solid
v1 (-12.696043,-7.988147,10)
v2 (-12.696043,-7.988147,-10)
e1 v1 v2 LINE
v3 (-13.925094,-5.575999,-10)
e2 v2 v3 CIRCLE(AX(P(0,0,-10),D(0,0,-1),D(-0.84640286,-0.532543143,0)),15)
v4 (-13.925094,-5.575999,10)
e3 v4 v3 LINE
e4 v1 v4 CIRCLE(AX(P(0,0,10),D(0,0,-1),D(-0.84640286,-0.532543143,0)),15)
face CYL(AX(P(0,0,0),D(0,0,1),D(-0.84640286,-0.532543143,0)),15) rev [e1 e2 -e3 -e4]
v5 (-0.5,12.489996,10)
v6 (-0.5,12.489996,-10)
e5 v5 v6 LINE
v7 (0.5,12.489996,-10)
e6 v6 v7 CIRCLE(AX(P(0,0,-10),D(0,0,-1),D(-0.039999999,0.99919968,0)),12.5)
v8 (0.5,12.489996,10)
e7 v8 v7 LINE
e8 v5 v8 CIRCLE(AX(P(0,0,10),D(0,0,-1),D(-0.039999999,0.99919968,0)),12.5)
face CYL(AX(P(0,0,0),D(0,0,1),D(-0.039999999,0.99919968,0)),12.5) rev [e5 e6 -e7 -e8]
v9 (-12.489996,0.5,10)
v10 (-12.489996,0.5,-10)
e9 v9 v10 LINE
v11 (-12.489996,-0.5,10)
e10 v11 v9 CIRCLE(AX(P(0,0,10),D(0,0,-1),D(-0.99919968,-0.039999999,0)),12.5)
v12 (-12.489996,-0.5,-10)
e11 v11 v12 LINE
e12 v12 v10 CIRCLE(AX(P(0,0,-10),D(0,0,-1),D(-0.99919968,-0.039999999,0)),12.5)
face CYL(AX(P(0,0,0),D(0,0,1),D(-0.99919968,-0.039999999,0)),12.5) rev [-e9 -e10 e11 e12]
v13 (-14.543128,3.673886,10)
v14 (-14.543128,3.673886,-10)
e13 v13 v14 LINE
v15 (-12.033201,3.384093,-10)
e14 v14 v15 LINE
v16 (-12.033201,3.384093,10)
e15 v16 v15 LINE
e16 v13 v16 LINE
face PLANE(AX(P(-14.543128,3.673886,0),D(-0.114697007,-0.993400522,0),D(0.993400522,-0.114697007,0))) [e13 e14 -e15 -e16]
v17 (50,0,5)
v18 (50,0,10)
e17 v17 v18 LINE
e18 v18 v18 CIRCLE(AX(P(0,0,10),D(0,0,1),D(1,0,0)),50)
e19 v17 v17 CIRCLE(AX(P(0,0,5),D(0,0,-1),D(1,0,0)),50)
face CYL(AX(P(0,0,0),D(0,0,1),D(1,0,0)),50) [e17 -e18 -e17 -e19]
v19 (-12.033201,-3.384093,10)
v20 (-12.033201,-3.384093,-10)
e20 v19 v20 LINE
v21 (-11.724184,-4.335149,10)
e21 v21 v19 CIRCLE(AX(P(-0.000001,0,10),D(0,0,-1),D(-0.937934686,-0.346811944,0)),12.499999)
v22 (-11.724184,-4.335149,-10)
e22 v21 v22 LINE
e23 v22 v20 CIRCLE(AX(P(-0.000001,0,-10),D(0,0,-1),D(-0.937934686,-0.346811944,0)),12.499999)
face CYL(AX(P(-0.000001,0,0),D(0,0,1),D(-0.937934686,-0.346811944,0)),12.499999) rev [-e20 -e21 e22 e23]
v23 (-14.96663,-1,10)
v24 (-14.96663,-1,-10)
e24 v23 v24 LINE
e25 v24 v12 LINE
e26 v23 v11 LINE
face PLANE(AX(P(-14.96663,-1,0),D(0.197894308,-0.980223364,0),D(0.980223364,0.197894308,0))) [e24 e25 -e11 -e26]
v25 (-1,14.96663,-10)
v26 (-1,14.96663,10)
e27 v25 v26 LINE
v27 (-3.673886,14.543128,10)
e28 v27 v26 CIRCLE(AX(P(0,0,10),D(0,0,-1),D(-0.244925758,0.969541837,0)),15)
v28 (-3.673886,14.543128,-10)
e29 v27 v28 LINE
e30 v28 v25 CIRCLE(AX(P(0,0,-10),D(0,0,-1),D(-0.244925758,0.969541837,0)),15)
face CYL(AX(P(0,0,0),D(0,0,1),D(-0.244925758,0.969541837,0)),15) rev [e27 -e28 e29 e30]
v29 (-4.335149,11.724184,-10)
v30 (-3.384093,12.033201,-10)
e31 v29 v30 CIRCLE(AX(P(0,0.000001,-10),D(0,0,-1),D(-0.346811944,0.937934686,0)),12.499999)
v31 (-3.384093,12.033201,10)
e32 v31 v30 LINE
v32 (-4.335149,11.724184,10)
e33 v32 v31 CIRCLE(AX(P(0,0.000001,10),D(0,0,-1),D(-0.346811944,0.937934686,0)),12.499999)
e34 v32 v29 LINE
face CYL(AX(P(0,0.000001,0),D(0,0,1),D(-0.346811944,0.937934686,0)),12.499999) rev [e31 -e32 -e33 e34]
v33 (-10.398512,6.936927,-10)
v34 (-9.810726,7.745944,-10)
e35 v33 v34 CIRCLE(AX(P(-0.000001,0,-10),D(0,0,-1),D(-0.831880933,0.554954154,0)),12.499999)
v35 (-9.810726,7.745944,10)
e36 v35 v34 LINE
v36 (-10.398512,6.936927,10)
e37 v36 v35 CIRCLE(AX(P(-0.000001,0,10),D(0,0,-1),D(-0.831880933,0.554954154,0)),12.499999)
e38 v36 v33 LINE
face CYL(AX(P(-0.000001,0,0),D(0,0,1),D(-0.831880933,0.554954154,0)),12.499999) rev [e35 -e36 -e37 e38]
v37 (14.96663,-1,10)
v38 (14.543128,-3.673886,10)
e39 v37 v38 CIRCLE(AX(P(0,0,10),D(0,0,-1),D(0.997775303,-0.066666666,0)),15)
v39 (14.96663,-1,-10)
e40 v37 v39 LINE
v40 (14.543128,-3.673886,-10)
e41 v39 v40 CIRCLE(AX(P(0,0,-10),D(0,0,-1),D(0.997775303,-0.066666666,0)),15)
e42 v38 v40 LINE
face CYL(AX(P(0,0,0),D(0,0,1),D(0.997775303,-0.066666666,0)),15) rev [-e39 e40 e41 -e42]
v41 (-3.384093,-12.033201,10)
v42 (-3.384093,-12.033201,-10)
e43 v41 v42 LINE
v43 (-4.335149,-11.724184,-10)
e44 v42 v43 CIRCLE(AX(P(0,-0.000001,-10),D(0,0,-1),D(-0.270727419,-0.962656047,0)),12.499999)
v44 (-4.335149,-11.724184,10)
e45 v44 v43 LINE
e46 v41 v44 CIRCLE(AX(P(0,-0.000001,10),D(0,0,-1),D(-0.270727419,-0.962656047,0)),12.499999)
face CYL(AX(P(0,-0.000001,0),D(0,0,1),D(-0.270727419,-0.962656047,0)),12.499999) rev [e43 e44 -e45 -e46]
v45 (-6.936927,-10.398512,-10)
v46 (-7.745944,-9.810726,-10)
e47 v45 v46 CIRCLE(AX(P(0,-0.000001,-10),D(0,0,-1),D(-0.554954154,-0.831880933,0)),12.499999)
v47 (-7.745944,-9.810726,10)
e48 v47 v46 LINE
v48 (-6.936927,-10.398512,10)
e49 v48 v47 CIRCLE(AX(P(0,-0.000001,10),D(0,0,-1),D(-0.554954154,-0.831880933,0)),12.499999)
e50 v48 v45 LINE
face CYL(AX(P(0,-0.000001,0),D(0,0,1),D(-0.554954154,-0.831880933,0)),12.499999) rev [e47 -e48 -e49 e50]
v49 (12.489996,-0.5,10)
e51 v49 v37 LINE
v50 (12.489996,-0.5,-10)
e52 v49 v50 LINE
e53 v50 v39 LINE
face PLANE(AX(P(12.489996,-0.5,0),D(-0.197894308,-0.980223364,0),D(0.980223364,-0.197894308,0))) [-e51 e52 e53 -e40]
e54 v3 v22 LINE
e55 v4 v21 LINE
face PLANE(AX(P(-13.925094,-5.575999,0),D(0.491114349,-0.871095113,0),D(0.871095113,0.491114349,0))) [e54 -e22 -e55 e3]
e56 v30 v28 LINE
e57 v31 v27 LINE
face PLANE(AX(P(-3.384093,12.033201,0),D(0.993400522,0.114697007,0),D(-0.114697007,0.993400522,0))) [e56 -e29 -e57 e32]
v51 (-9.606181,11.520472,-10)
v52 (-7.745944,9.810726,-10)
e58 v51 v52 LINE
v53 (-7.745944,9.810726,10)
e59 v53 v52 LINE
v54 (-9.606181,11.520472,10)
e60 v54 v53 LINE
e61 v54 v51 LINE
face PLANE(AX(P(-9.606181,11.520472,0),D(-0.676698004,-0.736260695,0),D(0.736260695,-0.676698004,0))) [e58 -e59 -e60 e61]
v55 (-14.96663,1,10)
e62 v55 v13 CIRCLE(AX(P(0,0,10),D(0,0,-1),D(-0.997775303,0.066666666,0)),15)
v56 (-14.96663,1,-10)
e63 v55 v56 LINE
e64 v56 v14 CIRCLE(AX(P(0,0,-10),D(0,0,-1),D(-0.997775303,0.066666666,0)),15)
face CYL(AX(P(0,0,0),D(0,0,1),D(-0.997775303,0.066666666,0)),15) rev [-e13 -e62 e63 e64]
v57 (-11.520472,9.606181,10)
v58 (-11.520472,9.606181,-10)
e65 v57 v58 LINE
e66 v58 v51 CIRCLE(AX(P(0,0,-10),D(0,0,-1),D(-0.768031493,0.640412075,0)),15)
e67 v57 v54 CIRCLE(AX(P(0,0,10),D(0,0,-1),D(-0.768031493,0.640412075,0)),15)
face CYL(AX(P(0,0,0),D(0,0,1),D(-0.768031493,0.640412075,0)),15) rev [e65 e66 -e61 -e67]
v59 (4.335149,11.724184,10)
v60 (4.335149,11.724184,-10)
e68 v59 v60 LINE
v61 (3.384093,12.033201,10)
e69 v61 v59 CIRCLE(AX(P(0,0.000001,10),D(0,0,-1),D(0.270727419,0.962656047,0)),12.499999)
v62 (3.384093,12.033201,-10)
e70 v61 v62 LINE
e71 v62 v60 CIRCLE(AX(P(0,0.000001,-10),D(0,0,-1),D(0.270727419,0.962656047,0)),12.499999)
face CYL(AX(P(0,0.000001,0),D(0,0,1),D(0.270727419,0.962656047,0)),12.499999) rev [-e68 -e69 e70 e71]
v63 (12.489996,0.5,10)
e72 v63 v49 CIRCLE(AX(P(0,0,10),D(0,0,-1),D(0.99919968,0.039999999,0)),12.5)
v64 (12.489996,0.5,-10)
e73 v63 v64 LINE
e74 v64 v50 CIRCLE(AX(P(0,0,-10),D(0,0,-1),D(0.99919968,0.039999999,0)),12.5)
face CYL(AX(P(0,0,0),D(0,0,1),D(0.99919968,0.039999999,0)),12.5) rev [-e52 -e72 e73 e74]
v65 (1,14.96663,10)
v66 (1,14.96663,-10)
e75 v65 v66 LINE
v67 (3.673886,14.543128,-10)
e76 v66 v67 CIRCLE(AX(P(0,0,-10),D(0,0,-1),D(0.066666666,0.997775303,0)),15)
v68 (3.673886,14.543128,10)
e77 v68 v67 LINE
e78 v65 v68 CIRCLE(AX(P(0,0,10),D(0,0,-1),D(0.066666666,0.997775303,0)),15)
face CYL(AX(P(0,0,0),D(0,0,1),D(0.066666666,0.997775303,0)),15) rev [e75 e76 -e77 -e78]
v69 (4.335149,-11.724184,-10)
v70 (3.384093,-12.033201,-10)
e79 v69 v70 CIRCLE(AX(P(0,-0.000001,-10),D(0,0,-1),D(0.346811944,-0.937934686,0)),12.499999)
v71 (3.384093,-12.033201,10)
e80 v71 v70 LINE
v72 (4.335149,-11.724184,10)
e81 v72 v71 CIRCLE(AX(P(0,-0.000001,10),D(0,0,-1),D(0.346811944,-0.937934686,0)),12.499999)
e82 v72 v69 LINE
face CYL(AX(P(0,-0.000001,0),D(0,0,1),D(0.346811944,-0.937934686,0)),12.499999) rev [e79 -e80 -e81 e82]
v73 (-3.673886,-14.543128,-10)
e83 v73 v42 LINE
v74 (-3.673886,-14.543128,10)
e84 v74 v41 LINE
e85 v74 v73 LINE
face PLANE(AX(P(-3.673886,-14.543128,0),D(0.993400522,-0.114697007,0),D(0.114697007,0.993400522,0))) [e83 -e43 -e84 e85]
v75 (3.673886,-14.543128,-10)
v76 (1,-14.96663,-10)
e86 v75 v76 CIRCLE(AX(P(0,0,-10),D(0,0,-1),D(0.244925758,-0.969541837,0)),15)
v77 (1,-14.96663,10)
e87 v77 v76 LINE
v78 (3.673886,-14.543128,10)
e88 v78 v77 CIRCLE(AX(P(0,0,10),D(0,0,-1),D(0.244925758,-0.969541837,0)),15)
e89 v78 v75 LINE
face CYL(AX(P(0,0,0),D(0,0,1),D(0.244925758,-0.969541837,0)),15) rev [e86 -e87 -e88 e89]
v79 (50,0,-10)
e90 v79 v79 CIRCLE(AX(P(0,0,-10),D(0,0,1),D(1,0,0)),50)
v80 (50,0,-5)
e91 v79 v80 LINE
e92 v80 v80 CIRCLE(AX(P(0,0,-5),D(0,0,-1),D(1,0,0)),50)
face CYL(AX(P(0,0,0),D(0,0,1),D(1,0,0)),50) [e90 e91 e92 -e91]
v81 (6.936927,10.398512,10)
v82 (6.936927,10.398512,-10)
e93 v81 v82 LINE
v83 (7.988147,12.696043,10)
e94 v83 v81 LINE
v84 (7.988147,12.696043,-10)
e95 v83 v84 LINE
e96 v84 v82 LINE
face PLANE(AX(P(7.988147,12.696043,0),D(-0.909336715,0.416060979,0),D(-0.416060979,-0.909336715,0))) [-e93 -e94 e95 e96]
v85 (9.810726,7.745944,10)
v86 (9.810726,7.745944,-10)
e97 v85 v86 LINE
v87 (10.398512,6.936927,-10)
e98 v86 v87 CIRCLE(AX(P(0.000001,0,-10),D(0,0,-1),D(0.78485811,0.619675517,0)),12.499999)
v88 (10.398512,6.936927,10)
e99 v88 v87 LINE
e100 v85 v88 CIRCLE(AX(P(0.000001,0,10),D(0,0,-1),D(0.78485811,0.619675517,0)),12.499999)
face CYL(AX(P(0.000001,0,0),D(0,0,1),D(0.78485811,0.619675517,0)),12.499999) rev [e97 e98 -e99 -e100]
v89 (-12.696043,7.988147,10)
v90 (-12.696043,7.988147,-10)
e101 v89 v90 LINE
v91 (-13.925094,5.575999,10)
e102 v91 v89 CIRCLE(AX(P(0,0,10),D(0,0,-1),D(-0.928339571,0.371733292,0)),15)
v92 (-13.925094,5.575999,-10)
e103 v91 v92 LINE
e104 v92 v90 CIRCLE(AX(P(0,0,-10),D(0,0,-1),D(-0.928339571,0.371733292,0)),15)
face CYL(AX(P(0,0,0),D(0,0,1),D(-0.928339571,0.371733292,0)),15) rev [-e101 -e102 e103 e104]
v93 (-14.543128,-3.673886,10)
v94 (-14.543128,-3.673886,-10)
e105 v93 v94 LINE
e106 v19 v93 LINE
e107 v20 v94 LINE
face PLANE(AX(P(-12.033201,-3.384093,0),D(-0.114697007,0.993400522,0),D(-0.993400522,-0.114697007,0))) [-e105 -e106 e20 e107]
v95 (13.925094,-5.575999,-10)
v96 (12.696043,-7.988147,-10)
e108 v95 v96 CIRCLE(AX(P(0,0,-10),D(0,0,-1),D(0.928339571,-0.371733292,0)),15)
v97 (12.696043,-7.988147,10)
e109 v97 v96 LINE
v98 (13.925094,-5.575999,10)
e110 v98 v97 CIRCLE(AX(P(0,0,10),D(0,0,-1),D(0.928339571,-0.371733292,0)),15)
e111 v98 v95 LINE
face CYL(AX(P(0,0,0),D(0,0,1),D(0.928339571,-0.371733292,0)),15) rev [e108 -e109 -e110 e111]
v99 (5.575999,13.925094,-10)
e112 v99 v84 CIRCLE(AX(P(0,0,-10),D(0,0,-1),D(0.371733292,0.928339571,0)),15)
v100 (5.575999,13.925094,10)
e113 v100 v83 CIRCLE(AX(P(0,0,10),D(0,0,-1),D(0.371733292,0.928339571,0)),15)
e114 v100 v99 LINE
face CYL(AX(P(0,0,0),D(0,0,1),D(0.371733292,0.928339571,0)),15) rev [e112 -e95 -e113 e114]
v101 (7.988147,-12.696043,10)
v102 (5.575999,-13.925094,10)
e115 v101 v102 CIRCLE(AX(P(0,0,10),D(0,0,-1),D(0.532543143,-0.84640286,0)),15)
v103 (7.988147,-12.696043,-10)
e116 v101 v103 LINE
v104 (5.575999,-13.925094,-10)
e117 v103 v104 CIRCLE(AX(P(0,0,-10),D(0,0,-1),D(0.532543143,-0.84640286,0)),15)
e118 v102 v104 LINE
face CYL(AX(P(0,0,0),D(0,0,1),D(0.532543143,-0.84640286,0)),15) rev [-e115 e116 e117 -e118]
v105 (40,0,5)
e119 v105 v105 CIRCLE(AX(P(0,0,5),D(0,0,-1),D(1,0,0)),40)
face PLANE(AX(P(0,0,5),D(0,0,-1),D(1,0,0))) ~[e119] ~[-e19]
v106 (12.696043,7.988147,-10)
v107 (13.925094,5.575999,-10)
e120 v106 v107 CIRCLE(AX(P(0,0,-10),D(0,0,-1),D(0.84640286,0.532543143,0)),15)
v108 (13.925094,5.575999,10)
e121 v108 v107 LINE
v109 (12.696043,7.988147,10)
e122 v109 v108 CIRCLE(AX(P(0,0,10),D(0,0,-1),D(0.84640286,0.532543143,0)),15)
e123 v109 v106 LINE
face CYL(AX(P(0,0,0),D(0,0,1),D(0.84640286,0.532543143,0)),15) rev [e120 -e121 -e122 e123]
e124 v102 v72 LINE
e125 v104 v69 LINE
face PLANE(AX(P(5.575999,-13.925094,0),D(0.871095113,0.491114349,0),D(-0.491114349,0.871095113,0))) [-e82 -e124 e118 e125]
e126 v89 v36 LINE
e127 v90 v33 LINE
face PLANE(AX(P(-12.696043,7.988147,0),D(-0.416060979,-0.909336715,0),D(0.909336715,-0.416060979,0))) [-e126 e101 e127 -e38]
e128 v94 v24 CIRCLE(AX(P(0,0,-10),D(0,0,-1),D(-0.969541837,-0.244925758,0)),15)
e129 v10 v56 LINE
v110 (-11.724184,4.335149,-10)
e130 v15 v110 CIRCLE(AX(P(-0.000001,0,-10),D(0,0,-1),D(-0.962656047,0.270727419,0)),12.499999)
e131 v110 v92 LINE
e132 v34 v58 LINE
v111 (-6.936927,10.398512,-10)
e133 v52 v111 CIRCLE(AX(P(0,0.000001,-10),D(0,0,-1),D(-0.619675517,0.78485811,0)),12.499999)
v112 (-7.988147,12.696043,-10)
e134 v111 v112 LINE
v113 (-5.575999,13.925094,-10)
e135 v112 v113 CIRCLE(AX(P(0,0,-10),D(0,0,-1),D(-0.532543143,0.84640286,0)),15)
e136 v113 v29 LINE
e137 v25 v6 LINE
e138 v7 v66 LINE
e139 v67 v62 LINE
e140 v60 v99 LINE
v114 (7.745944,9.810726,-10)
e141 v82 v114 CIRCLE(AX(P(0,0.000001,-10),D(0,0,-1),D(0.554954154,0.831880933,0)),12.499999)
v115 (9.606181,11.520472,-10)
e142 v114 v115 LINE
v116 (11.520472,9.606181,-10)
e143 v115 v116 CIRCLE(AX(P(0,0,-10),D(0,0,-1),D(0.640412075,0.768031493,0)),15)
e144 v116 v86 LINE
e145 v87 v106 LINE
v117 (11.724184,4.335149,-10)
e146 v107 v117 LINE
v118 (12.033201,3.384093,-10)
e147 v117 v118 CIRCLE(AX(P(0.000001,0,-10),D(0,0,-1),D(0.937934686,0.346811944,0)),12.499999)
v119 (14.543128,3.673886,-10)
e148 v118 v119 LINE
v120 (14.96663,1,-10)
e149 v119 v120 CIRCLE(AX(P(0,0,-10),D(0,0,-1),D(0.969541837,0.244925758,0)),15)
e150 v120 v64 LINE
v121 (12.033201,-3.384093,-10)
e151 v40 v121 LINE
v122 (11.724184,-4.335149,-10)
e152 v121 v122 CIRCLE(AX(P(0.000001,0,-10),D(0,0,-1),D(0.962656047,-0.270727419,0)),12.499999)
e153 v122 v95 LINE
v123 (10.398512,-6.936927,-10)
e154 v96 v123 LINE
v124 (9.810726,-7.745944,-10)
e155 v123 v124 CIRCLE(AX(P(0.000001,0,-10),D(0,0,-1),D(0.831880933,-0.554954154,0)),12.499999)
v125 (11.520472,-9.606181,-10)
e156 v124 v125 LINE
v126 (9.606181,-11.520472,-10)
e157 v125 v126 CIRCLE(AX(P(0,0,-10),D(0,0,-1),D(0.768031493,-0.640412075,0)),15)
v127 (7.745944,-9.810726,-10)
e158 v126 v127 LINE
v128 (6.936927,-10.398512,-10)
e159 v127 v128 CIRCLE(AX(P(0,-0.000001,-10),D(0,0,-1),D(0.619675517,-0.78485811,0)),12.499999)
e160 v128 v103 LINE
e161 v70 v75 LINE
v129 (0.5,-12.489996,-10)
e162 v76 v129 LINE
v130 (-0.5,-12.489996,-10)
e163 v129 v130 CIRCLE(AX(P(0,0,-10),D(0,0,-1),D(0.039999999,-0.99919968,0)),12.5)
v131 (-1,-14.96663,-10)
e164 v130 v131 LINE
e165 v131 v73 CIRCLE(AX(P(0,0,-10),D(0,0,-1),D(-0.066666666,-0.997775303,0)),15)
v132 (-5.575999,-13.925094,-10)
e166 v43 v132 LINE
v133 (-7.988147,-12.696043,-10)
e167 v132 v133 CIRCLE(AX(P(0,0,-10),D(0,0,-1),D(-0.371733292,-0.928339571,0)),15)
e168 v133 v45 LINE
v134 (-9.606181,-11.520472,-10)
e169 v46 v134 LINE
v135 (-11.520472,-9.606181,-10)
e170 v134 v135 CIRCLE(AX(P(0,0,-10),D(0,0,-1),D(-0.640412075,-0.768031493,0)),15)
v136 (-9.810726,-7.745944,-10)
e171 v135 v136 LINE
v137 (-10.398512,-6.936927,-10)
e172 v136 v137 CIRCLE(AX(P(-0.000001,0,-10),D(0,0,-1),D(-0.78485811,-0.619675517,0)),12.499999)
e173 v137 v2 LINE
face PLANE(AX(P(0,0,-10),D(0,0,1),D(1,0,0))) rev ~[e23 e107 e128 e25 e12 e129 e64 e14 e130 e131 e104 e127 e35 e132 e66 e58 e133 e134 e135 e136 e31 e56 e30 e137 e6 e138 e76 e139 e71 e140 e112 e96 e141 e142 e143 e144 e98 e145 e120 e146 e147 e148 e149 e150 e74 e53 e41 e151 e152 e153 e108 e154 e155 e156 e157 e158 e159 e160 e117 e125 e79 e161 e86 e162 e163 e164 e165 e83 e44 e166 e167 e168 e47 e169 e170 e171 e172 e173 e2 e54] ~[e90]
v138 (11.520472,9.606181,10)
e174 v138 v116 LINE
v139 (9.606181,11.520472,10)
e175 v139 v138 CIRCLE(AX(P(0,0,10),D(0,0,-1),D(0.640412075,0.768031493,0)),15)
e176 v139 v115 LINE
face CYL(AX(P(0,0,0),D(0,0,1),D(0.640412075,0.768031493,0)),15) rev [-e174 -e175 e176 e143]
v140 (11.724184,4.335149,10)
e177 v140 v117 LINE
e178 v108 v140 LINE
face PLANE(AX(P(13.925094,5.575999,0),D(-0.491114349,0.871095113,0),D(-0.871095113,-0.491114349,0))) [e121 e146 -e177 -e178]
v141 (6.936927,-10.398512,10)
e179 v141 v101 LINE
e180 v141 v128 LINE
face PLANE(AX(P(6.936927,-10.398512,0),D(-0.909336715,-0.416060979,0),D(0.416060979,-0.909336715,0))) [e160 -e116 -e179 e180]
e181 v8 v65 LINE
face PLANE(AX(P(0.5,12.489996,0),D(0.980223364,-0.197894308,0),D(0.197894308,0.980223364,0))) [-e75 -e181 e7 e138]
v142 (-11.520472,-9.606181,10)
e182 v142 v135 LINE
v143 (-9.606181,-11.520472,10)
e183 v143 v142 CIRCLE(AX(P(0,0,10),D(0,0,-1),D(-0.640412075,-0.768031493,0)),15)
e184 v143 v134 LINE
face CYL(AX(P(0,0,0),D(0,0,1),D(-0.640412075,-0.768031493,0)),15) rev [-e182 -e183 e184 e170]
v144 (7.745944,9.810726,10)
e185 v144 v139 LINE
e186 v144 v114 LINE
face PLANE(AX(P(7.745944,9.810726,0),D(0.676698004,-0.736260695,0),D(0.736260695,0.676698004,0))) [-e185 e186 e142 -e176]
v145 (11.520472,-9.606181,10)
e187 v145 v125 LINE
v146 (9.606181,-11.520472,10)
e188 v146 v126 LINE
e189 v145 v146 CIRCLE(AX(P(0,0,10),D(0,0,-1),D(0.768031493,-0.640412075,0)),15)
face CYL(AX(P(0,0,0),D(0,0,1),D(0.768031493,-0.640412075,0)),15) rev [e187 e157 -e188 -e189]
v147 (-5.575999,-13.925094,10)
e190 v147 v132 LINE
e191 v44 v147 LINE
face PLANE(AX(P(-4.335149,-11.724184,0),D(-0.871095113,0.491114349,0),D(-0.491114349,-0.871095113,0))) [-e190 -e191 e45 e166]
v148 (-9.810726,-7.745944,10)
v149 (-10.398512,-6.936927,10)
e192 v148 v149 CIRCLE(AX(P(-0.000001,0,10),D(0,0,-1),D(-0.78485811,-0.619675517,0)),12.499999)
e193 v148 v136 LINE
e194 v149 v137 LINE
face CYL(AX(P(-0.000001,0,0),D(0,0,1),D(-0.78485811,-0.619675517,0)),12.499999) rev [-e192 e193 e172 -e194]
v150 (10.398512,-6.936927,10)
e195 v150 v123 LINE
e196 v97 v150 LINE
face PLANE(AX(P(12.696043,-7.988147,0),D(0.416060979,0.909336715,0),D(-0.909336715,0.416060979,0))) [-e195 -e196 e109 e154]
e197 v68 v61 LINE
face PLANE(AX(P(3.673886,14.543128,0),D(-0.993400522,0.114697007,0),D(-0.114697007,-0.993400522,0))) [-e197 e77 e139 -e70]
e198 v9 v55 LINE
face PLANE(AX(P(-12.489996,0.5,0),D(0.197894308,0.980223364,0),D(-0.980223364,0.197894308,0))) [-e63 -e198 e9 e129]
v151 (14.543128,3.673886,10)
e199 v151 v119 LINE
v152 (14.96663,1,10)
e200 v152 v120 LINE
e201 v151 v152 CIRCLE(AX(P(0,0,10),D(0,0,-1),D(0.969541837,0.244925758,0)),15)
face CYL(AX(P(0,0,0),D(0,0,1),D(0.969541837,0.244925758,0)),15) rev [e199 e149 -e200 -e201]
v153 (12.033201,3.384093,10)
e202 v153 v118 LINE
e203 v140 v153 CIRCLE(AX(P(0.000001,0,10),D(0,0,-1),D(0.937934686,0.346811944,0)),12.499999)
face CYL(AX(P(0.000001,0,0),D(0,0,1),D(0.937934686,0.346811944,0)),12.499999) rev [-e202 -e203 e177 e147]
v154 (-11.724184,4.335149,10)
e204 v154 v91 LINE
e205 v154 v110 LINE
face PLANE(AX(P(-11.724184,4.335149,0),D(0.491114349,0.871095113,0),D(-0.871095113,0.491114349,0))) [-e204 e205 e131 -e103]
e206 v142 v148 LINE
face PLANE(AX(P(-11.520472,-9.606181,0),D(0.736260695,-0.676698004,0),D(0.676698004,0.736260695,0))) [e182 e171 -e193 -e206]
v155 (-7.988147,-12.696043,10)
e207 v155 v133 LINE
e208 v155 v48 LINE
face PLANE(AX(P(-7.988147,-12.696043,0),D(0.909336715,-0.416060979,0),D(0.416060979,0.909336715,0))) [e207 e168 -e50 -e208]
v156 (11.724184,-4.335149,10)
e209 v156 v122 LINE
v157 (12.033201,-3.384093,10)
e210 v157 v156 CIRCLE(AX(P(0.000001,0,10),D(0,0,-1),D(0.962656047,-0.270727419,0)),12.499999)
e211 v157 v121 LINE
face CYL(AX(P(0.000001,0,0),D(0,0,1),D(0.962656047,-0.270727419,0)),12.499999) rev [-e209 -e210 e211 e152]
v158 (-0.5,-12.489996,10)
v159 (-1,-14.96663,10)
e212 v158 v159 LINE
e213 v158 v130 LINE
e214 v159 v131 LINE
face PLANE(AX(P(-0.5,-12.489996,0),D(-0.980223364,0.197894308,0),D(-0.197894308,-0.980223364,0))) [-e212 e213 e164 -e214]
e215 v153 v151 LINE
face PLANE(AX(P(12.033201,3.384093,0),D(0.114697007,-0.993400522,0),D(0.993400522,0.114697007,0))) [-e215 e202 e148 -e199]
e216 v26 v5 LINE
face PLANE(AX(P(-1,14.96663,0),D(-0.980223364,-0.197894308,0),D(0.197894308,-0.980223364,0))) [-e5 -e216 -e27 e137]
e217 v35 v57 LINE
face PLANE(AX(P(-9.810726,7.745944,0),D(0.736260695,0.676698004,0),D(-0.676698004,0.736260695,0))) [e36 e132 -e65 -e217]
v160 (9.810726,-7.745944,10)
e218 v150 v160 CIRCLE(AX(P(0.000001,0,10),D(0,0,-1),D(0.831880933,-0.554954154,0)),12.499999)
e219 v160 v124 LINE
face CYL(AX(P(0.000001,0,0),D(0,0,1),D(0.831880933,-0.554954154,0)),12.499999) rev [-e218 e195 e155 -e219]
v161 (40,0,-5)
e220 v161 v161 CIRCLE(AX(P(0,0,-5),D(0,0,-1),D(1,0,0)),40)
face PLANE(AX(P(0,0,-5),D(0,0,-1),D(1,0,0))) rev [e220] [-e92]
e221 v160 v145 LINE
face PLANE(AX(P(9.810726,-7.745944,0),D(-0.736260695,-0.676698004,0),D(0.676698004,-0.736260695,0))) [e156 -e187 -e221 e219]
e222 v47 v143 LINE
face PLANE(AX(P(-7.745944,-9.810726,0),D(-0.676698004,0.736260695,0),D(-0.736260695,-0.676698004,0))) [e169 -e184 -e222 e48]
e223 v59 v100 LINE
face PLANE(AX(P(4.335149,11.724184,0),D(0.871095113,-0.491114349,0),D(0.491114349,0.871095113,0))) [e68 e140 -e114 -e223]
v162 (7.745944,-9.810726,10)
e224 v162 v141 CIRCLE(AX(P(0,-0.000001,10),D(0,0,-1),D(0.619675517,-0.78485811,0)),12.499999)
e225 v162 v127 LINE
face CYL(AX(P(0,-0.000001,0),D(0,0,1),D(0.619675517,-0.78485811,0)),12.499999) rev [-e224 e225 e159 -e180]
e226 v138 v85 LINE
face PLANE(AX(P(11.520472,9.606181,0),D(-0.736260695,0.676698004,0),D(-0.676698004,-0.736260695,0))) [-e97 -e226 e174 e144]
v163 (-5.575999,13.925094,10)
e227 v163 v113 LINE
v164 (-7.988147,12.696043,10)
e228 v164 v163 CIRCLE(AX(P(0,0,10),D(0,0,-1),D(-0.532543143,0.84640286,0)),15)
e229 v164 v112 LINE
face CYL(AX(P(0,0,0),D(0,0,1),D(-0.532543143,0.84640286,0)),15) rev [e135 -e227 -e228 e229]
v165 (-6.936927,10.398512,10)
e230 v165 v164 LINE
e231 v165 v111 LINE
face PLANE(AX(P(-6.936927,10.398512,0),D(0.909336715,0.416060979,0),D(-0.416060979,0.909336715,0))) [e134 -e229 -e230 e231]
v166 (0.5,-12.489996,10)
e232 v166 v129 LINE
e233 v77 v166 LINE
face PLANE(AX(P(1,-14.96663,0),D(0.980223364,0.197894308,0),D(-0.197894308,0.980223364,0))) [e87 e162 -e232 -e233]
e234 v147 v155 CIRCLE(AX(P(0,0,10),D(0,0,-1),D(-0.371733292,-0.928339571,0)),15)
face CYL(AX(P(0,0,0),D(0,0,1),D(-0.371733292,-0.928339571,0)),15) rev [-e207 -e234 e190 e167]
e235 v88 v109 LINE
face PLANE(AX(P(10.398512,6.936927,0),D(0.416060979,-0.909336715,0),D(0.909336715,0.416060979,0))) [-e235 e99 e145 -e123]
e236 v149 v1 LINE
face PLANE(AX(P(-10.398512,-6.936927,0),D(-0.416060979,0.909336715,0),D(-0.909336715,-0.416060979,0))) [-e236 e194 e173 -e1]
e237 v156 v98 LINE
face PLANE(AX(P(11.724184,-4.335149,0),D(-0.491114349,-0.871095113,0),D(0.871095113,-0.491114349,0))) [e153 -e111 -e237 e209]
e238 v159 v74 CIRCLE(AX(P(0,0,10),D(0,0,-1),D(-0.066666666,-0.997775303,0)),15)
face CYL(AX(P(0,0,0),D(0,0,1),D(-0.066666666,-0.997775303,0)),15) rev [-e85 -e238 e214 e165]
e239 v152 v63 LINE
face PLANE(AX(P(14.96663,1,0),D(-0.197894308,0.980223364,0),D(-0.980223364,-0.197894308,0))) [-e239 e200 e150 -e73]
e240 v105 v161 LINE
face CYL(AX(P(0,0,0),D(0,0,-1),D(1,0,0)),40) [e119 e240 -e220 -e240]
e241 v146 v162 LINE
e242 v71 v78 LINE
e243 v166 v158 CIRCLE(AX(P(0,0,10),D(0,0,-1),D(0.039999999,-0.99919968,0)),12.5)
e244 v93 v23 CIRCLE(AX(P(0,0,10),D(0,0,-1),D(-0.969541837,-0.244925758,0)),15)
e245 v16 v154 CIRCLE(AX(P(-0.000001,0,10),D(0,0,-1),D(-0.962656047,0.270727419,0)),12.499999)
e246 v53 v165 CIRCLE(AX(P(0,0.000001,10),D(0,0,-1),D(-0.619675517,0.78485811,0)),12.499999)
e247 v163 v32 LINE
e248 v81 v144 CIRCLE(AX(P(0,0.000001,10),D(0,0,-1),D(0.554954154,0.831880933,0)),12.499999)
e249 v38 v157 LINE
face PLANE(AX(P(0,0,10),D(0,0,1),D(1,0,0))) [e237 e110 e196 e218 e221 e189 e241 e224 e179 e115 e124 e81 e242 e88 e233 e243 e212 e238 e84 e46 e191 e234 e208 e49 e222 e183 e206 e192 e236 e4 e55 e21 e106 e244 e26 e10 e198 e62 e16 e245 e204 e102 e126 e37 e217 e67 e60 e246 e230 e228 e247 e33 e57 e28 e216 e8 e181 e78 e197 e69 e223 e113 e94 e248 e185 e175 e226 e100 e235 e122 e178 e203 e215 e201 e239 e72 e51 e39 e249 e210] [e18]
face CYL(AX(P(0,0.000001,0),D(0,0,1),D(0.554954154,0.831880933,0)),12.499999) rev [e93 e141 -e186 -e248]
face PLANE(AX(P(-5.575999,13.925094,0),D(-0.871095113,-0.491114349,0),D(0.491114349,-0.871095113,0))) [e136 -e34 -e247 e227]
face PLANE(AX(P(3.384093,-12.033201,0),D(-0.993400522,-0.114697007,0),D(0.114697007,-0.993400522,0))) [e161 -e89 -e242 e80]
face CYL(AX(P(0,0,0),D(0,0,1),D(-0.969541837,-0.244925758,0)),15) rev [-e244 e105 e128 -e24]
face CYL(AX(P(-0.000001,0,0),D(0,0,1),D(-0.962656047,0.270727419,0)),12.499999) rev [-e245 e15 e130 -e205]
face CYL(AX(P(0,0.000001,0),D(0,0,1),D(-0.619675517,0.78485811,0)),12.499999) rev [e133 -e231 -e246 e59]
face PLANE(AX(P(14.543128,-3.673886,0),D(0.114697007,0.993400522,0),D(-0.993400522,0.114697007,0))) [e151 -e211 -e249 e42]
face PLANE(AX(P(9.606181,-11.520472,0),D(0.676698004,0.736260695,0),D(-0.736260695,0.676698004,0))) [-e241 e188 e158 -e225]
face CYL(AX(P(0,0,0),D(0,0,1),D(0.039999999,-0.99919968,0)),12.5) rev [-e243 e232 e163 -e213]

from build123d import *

# Parameters (mm, degrees)
SKETCH1_R           = 50
BOSS_EXTRUDE1_DEPTH = 10
SKETCH2_W           = 10
SKETCH2_H           = 10


with BuildPart() as part:
    # Sketch1 → Boss-Extrude1 (new, symmetric)
    with BuildSketch(Plane.XY):
        Circle(SKETCH1_R)
        with BuildLine():
            Line((-1, 14.966629547), (-0.5, 12.489995997))
            ThreePointArc((-0.5, 12.489995997), (0, 12.5), (0.5, 12.489995997))
            Line((0.5, 12.489995997), (1, 14.966629547))
            ThreePointArc((1, 14.966629547), (2.346516976, 14.815325109), (3.673886362, 14.543127552))
            Line((3.673886362, 14.543127552), (3.384092765, 12.033200578))
            ThreePointArc((3.384092765, 12.033200578), (3.86271243, 11.888206454), (4.335149281, 11.724183584))
            Line((4.335149281, 11.724183584), (5.575999395, 13.925093563))
            ThreePointArc((5.575999395, 13.925093563), (6.809857496, 13.365097863), (7.98814713, 12.696042904))
            Line((7.98814713, 12.696042904), (6.936926951, 10.398511647))
            ThreePointArc((6.936926951, 10.398511647), (7.347315654, 10.11271243), (7.745943945, 9.810726395))
            Line((7.745943945, 9.810726395), (9.606181119, 11.5204724))
            ThreePointArc((9.606181119, 11.5204724), (10.606601718, 10.606601718), (11.5204724, 9.606181119))
            Line((11.5204724, 9.606181119), (9.810726395, 7.745943945))
            ThreePointArc((9.810726395, 7.745943945), (10.11271243, 7.347315654), (10.398511647, 6.936926951))
            Line((10.398511647, 6.936926951), (12.696042904, 7.98814713))
            ThreePointArc((12.696042904, 7.98814713), (13.365097863, 6.809857496), (13.925093563, 5.575999395))
            Line((13.925093563, 5.575999395), (11.724183584, 4.335149281))
            ThreePointArc((11.724183584, 4.335149281), (11.888206454, 3.86271243), (12.033200578, 3.384092765))
            Line((12.033200578, 3.384092765), (14.543127552, 3.673886362))
            ThreePointArc((14.543127552, 3.673886362), (14.815325109, 2.346516976), (14.966629547, 1))
            Line((14.966629547, 1), (12.489995997, 0.5))
            ThreePointArc((12.489995997, 0.5), (12.5, 0), (12.489995997, -0.5))
            Line((12.489995997, -0.5), (14.966629547, -1))
            ThreePointArc((14.966629547, -1), (14.815325109, -2.346516976), (14.543127552, -3.673886362))
            Line((14.543127552, -3.673886362), (12.033200578, -3.384092765))
            ThreePointArc((12.033200578, -3.384092765), (11.888206454, -3.86271243), (11.724183584, -4.335149281))
            Line((11.724183584, -4.335149281), (13.925093563, -5.575999395))
            ThreePointArc((13.925093563, -5.575999395), (13.365097863, -6.809857496), (12.696042904, -7.98814713))
            Line((12.696042904, -7.98814713), (10.398511647, -6.936926951))
            ThreePointArc((10.398511647, -6.936926951), (10.11271243, -7.347315654), (9.810726395, -7.745943945))
            Line((9.810726395, -7.745943945), (11.5204724, -9.606181119))
            ThreePointArc((11.5204724, -9.606181119), (10.606601718, -10.606601718), (9.606181119, -11.5204724))
            Line((9.606181119, -11.5204724), (7.745943945, -9.810726395))
            ThreePointArc((7.745943945, -9.810726395), (7.347315654, -10.11271243), (6.936926951, -10.398511647))
            Line((6.936926951, -10.398511647), (7.98814713, -12.696042904))
            ThreePointArc((7.98814713, -12.696042904), (6.809857496, -13.365097863), (5.575999395, -13.925093563))
            Line((5.575999395, -13.925093563), (4.335149281, -11.724183584))
            ThreePointArc((4.335149281, -11.724183584), (3.86271243, -11.888206454), (3.384092765, -12.033200578))
            Line((3.384092765, -12.033200578), (3.673886362, -14.543127552))
            ThreePointArc((3.673886362, -14.543127552), (2.346516976, -14.815325109), (1, -14.966629547))
            Line((1, -14.966629547), (0.5, -12.489995997))
            ThreePointArc((0.5, -12.489995997), (0, -12.5), (-0.5, -12.489995997))
            Line((-0.5, -12.489995997), (-1, -14.966629547))
            ThreePointArc((-1, -14.966629547), (-2.346516976, -14.815325109), (-3.673886362, -14.543127552))
            Line((-3.673886362, -14.543127552), (-3.384092765, -12.033200578))
            ThreePointArc((-3.384092765, -12.033200578), (-3.86271243, -11.888206454), (-4.335149281, -11.724183584))
            Line((-4.335149281, -11.724183584), (-5.575999395, -13.925093563))
            ThreePointArc((-5.575999395, -13.925093563), (-6.809857496, -13.365097863), (-7.98814713, -12.696042904))
            Line((-7.98814713, -12.696042904), (-6.936926951, -10.398511647))
            ThreePointArc((-6.936926951, -10.398511647), (-7.347315654, -10.11271243), (-7.745943945, -9.810726395))
            Line((-7.745943945, -9.810726395), (-9.606181119, -11.5204724))
            ThreePointArc((-9.606181119, -11.5204724), (-10.606601718, -10.606601718), (-11.5204724, -9.606181119))
            Line((-11.5204724, -9.606181119), (-9.810726395, -7.745943945))
            ThreePointArc((-9.810726395, -7.745943945), (-10.11271243, -7.347315654), (-10.398511647, -6.936926951))
            Line((-10.398511647, -6.936926951), (-12.696042904, -7.98814713))
            ThreePointArc((-12.696042904, -7.98814713), (-13.365097863, -6.809857496), (-13.925093563, -5.575999395))
            Line((-13.925093563, -5.575999395), (-11.724183584, -4.335149281))
            ThreePointArc((-11.724183584, -4.335149281), (-11.888206454, -3.86271243), (-12.033200578, -3.384092765))
            Line((-12.033200578, -3.384092765), (-14.543127552, -3.673886362))
            ThreePointArc((-14.543127552, -3.673886362), (-14.815325109, -2.346516976), (-14.966629547, -1))
            Line((-14.966629547, -1), (-12.489995997, -0.5))
            ThreePointArc((-12.489995997, -0.5), (-12.5, 0), (-12.489995997, 0.5))
            Line((-12.489995997, 0.5), (-14.966629547, 1))
            ThreePointArc((-14.966629547, 1), (-14.815325109, 2.346516976), (-14.543127552, 3.673886362))
            Line((-14.543127552, 3.673886362), (-12.033200578, 3.384092765))
            ThreePointArc((-12.033200578, 3.384092765), (-11.888206454, 3.86271243), (-11.724183584, 4.335149281))
            Line((-11.724183584, 4.335149281), (-13.925093563, 5.575999395))
            ThreePointArc((-13.925093563, 5.575999395), (-13.365097863, 6.809857496), (-12.696042904, 7.98814713))
            Line((-12.696042904, 7.98814713), (-10.398511647, 6.936926951))
            ThreePointArc((-10.398511647, 6.936926951), (-10.11271243, 7.347315654), (-9.810726395, 7.745943945))
            Line((-9.810726395, 7.745943945), (-11.5204724, 9.606181119))
            ThreePointArc((-11.5204724, 9.606181119), (-10.606601718, 10.606601718), (-9.606181119, 11.5204724))
            Line((-9.606181119, 11.5204724), (-7.745943945, 9.810726395))
            ThreePointArc((-7.745943945, 9.810726395), (-7.347315654, 10.11271243), (-6.936926951, 10.398511647))
            Line((-6.936926951, 10.398511647), (-7.98814713, 12.696042904))
            ThreePointArc((-7.98814713, 12.696042904), (-6.809857496, 13.365097863), (-5.575999395, 13.925093563))
            Line((-5.575999395, 13.925093563), (-4.335149281, 11.724183584))
            ThreePointArc((-4.335149281, 11.724183584), (-3.86271243, 11.888206454), (-3.384092765, 12.033200578))
            Line((-3.384092765, 12.033200578), (-3.673886362, 14.543127552))
            ThreePointArc((-3.673886362, 14.543127552), (-2.346516976, 14.815325109), (-1, 14.966629547))
        make_face(mode=Mode.SUBTRACT)
    extrude(amount=BOSS_EXTRUDE1_DEPTH, both=True)

    # Sketch2 → Cut-Revolve1 (revolve, cut)
    with BuildSketch(Plane(origin=(0, 0, 0), x_dir=(0, 0, -1), z_dir=(1, 0, 0)), mode=Mode.PRIVATE) as cut_revolve1_sk:
        with Locations((0, 45)):
            Rectangle(SKETCH2_W, SKETCH2_H)
    revolve(cut_revolve1_sk.sketch.rotate(Axis((0, 0, 1000), (0, 0, -1)), 90), axis=Axis((0, 0, 1000), (0, 0, -1)), mode=Mode.SUBTRACT)


solid = part.part
